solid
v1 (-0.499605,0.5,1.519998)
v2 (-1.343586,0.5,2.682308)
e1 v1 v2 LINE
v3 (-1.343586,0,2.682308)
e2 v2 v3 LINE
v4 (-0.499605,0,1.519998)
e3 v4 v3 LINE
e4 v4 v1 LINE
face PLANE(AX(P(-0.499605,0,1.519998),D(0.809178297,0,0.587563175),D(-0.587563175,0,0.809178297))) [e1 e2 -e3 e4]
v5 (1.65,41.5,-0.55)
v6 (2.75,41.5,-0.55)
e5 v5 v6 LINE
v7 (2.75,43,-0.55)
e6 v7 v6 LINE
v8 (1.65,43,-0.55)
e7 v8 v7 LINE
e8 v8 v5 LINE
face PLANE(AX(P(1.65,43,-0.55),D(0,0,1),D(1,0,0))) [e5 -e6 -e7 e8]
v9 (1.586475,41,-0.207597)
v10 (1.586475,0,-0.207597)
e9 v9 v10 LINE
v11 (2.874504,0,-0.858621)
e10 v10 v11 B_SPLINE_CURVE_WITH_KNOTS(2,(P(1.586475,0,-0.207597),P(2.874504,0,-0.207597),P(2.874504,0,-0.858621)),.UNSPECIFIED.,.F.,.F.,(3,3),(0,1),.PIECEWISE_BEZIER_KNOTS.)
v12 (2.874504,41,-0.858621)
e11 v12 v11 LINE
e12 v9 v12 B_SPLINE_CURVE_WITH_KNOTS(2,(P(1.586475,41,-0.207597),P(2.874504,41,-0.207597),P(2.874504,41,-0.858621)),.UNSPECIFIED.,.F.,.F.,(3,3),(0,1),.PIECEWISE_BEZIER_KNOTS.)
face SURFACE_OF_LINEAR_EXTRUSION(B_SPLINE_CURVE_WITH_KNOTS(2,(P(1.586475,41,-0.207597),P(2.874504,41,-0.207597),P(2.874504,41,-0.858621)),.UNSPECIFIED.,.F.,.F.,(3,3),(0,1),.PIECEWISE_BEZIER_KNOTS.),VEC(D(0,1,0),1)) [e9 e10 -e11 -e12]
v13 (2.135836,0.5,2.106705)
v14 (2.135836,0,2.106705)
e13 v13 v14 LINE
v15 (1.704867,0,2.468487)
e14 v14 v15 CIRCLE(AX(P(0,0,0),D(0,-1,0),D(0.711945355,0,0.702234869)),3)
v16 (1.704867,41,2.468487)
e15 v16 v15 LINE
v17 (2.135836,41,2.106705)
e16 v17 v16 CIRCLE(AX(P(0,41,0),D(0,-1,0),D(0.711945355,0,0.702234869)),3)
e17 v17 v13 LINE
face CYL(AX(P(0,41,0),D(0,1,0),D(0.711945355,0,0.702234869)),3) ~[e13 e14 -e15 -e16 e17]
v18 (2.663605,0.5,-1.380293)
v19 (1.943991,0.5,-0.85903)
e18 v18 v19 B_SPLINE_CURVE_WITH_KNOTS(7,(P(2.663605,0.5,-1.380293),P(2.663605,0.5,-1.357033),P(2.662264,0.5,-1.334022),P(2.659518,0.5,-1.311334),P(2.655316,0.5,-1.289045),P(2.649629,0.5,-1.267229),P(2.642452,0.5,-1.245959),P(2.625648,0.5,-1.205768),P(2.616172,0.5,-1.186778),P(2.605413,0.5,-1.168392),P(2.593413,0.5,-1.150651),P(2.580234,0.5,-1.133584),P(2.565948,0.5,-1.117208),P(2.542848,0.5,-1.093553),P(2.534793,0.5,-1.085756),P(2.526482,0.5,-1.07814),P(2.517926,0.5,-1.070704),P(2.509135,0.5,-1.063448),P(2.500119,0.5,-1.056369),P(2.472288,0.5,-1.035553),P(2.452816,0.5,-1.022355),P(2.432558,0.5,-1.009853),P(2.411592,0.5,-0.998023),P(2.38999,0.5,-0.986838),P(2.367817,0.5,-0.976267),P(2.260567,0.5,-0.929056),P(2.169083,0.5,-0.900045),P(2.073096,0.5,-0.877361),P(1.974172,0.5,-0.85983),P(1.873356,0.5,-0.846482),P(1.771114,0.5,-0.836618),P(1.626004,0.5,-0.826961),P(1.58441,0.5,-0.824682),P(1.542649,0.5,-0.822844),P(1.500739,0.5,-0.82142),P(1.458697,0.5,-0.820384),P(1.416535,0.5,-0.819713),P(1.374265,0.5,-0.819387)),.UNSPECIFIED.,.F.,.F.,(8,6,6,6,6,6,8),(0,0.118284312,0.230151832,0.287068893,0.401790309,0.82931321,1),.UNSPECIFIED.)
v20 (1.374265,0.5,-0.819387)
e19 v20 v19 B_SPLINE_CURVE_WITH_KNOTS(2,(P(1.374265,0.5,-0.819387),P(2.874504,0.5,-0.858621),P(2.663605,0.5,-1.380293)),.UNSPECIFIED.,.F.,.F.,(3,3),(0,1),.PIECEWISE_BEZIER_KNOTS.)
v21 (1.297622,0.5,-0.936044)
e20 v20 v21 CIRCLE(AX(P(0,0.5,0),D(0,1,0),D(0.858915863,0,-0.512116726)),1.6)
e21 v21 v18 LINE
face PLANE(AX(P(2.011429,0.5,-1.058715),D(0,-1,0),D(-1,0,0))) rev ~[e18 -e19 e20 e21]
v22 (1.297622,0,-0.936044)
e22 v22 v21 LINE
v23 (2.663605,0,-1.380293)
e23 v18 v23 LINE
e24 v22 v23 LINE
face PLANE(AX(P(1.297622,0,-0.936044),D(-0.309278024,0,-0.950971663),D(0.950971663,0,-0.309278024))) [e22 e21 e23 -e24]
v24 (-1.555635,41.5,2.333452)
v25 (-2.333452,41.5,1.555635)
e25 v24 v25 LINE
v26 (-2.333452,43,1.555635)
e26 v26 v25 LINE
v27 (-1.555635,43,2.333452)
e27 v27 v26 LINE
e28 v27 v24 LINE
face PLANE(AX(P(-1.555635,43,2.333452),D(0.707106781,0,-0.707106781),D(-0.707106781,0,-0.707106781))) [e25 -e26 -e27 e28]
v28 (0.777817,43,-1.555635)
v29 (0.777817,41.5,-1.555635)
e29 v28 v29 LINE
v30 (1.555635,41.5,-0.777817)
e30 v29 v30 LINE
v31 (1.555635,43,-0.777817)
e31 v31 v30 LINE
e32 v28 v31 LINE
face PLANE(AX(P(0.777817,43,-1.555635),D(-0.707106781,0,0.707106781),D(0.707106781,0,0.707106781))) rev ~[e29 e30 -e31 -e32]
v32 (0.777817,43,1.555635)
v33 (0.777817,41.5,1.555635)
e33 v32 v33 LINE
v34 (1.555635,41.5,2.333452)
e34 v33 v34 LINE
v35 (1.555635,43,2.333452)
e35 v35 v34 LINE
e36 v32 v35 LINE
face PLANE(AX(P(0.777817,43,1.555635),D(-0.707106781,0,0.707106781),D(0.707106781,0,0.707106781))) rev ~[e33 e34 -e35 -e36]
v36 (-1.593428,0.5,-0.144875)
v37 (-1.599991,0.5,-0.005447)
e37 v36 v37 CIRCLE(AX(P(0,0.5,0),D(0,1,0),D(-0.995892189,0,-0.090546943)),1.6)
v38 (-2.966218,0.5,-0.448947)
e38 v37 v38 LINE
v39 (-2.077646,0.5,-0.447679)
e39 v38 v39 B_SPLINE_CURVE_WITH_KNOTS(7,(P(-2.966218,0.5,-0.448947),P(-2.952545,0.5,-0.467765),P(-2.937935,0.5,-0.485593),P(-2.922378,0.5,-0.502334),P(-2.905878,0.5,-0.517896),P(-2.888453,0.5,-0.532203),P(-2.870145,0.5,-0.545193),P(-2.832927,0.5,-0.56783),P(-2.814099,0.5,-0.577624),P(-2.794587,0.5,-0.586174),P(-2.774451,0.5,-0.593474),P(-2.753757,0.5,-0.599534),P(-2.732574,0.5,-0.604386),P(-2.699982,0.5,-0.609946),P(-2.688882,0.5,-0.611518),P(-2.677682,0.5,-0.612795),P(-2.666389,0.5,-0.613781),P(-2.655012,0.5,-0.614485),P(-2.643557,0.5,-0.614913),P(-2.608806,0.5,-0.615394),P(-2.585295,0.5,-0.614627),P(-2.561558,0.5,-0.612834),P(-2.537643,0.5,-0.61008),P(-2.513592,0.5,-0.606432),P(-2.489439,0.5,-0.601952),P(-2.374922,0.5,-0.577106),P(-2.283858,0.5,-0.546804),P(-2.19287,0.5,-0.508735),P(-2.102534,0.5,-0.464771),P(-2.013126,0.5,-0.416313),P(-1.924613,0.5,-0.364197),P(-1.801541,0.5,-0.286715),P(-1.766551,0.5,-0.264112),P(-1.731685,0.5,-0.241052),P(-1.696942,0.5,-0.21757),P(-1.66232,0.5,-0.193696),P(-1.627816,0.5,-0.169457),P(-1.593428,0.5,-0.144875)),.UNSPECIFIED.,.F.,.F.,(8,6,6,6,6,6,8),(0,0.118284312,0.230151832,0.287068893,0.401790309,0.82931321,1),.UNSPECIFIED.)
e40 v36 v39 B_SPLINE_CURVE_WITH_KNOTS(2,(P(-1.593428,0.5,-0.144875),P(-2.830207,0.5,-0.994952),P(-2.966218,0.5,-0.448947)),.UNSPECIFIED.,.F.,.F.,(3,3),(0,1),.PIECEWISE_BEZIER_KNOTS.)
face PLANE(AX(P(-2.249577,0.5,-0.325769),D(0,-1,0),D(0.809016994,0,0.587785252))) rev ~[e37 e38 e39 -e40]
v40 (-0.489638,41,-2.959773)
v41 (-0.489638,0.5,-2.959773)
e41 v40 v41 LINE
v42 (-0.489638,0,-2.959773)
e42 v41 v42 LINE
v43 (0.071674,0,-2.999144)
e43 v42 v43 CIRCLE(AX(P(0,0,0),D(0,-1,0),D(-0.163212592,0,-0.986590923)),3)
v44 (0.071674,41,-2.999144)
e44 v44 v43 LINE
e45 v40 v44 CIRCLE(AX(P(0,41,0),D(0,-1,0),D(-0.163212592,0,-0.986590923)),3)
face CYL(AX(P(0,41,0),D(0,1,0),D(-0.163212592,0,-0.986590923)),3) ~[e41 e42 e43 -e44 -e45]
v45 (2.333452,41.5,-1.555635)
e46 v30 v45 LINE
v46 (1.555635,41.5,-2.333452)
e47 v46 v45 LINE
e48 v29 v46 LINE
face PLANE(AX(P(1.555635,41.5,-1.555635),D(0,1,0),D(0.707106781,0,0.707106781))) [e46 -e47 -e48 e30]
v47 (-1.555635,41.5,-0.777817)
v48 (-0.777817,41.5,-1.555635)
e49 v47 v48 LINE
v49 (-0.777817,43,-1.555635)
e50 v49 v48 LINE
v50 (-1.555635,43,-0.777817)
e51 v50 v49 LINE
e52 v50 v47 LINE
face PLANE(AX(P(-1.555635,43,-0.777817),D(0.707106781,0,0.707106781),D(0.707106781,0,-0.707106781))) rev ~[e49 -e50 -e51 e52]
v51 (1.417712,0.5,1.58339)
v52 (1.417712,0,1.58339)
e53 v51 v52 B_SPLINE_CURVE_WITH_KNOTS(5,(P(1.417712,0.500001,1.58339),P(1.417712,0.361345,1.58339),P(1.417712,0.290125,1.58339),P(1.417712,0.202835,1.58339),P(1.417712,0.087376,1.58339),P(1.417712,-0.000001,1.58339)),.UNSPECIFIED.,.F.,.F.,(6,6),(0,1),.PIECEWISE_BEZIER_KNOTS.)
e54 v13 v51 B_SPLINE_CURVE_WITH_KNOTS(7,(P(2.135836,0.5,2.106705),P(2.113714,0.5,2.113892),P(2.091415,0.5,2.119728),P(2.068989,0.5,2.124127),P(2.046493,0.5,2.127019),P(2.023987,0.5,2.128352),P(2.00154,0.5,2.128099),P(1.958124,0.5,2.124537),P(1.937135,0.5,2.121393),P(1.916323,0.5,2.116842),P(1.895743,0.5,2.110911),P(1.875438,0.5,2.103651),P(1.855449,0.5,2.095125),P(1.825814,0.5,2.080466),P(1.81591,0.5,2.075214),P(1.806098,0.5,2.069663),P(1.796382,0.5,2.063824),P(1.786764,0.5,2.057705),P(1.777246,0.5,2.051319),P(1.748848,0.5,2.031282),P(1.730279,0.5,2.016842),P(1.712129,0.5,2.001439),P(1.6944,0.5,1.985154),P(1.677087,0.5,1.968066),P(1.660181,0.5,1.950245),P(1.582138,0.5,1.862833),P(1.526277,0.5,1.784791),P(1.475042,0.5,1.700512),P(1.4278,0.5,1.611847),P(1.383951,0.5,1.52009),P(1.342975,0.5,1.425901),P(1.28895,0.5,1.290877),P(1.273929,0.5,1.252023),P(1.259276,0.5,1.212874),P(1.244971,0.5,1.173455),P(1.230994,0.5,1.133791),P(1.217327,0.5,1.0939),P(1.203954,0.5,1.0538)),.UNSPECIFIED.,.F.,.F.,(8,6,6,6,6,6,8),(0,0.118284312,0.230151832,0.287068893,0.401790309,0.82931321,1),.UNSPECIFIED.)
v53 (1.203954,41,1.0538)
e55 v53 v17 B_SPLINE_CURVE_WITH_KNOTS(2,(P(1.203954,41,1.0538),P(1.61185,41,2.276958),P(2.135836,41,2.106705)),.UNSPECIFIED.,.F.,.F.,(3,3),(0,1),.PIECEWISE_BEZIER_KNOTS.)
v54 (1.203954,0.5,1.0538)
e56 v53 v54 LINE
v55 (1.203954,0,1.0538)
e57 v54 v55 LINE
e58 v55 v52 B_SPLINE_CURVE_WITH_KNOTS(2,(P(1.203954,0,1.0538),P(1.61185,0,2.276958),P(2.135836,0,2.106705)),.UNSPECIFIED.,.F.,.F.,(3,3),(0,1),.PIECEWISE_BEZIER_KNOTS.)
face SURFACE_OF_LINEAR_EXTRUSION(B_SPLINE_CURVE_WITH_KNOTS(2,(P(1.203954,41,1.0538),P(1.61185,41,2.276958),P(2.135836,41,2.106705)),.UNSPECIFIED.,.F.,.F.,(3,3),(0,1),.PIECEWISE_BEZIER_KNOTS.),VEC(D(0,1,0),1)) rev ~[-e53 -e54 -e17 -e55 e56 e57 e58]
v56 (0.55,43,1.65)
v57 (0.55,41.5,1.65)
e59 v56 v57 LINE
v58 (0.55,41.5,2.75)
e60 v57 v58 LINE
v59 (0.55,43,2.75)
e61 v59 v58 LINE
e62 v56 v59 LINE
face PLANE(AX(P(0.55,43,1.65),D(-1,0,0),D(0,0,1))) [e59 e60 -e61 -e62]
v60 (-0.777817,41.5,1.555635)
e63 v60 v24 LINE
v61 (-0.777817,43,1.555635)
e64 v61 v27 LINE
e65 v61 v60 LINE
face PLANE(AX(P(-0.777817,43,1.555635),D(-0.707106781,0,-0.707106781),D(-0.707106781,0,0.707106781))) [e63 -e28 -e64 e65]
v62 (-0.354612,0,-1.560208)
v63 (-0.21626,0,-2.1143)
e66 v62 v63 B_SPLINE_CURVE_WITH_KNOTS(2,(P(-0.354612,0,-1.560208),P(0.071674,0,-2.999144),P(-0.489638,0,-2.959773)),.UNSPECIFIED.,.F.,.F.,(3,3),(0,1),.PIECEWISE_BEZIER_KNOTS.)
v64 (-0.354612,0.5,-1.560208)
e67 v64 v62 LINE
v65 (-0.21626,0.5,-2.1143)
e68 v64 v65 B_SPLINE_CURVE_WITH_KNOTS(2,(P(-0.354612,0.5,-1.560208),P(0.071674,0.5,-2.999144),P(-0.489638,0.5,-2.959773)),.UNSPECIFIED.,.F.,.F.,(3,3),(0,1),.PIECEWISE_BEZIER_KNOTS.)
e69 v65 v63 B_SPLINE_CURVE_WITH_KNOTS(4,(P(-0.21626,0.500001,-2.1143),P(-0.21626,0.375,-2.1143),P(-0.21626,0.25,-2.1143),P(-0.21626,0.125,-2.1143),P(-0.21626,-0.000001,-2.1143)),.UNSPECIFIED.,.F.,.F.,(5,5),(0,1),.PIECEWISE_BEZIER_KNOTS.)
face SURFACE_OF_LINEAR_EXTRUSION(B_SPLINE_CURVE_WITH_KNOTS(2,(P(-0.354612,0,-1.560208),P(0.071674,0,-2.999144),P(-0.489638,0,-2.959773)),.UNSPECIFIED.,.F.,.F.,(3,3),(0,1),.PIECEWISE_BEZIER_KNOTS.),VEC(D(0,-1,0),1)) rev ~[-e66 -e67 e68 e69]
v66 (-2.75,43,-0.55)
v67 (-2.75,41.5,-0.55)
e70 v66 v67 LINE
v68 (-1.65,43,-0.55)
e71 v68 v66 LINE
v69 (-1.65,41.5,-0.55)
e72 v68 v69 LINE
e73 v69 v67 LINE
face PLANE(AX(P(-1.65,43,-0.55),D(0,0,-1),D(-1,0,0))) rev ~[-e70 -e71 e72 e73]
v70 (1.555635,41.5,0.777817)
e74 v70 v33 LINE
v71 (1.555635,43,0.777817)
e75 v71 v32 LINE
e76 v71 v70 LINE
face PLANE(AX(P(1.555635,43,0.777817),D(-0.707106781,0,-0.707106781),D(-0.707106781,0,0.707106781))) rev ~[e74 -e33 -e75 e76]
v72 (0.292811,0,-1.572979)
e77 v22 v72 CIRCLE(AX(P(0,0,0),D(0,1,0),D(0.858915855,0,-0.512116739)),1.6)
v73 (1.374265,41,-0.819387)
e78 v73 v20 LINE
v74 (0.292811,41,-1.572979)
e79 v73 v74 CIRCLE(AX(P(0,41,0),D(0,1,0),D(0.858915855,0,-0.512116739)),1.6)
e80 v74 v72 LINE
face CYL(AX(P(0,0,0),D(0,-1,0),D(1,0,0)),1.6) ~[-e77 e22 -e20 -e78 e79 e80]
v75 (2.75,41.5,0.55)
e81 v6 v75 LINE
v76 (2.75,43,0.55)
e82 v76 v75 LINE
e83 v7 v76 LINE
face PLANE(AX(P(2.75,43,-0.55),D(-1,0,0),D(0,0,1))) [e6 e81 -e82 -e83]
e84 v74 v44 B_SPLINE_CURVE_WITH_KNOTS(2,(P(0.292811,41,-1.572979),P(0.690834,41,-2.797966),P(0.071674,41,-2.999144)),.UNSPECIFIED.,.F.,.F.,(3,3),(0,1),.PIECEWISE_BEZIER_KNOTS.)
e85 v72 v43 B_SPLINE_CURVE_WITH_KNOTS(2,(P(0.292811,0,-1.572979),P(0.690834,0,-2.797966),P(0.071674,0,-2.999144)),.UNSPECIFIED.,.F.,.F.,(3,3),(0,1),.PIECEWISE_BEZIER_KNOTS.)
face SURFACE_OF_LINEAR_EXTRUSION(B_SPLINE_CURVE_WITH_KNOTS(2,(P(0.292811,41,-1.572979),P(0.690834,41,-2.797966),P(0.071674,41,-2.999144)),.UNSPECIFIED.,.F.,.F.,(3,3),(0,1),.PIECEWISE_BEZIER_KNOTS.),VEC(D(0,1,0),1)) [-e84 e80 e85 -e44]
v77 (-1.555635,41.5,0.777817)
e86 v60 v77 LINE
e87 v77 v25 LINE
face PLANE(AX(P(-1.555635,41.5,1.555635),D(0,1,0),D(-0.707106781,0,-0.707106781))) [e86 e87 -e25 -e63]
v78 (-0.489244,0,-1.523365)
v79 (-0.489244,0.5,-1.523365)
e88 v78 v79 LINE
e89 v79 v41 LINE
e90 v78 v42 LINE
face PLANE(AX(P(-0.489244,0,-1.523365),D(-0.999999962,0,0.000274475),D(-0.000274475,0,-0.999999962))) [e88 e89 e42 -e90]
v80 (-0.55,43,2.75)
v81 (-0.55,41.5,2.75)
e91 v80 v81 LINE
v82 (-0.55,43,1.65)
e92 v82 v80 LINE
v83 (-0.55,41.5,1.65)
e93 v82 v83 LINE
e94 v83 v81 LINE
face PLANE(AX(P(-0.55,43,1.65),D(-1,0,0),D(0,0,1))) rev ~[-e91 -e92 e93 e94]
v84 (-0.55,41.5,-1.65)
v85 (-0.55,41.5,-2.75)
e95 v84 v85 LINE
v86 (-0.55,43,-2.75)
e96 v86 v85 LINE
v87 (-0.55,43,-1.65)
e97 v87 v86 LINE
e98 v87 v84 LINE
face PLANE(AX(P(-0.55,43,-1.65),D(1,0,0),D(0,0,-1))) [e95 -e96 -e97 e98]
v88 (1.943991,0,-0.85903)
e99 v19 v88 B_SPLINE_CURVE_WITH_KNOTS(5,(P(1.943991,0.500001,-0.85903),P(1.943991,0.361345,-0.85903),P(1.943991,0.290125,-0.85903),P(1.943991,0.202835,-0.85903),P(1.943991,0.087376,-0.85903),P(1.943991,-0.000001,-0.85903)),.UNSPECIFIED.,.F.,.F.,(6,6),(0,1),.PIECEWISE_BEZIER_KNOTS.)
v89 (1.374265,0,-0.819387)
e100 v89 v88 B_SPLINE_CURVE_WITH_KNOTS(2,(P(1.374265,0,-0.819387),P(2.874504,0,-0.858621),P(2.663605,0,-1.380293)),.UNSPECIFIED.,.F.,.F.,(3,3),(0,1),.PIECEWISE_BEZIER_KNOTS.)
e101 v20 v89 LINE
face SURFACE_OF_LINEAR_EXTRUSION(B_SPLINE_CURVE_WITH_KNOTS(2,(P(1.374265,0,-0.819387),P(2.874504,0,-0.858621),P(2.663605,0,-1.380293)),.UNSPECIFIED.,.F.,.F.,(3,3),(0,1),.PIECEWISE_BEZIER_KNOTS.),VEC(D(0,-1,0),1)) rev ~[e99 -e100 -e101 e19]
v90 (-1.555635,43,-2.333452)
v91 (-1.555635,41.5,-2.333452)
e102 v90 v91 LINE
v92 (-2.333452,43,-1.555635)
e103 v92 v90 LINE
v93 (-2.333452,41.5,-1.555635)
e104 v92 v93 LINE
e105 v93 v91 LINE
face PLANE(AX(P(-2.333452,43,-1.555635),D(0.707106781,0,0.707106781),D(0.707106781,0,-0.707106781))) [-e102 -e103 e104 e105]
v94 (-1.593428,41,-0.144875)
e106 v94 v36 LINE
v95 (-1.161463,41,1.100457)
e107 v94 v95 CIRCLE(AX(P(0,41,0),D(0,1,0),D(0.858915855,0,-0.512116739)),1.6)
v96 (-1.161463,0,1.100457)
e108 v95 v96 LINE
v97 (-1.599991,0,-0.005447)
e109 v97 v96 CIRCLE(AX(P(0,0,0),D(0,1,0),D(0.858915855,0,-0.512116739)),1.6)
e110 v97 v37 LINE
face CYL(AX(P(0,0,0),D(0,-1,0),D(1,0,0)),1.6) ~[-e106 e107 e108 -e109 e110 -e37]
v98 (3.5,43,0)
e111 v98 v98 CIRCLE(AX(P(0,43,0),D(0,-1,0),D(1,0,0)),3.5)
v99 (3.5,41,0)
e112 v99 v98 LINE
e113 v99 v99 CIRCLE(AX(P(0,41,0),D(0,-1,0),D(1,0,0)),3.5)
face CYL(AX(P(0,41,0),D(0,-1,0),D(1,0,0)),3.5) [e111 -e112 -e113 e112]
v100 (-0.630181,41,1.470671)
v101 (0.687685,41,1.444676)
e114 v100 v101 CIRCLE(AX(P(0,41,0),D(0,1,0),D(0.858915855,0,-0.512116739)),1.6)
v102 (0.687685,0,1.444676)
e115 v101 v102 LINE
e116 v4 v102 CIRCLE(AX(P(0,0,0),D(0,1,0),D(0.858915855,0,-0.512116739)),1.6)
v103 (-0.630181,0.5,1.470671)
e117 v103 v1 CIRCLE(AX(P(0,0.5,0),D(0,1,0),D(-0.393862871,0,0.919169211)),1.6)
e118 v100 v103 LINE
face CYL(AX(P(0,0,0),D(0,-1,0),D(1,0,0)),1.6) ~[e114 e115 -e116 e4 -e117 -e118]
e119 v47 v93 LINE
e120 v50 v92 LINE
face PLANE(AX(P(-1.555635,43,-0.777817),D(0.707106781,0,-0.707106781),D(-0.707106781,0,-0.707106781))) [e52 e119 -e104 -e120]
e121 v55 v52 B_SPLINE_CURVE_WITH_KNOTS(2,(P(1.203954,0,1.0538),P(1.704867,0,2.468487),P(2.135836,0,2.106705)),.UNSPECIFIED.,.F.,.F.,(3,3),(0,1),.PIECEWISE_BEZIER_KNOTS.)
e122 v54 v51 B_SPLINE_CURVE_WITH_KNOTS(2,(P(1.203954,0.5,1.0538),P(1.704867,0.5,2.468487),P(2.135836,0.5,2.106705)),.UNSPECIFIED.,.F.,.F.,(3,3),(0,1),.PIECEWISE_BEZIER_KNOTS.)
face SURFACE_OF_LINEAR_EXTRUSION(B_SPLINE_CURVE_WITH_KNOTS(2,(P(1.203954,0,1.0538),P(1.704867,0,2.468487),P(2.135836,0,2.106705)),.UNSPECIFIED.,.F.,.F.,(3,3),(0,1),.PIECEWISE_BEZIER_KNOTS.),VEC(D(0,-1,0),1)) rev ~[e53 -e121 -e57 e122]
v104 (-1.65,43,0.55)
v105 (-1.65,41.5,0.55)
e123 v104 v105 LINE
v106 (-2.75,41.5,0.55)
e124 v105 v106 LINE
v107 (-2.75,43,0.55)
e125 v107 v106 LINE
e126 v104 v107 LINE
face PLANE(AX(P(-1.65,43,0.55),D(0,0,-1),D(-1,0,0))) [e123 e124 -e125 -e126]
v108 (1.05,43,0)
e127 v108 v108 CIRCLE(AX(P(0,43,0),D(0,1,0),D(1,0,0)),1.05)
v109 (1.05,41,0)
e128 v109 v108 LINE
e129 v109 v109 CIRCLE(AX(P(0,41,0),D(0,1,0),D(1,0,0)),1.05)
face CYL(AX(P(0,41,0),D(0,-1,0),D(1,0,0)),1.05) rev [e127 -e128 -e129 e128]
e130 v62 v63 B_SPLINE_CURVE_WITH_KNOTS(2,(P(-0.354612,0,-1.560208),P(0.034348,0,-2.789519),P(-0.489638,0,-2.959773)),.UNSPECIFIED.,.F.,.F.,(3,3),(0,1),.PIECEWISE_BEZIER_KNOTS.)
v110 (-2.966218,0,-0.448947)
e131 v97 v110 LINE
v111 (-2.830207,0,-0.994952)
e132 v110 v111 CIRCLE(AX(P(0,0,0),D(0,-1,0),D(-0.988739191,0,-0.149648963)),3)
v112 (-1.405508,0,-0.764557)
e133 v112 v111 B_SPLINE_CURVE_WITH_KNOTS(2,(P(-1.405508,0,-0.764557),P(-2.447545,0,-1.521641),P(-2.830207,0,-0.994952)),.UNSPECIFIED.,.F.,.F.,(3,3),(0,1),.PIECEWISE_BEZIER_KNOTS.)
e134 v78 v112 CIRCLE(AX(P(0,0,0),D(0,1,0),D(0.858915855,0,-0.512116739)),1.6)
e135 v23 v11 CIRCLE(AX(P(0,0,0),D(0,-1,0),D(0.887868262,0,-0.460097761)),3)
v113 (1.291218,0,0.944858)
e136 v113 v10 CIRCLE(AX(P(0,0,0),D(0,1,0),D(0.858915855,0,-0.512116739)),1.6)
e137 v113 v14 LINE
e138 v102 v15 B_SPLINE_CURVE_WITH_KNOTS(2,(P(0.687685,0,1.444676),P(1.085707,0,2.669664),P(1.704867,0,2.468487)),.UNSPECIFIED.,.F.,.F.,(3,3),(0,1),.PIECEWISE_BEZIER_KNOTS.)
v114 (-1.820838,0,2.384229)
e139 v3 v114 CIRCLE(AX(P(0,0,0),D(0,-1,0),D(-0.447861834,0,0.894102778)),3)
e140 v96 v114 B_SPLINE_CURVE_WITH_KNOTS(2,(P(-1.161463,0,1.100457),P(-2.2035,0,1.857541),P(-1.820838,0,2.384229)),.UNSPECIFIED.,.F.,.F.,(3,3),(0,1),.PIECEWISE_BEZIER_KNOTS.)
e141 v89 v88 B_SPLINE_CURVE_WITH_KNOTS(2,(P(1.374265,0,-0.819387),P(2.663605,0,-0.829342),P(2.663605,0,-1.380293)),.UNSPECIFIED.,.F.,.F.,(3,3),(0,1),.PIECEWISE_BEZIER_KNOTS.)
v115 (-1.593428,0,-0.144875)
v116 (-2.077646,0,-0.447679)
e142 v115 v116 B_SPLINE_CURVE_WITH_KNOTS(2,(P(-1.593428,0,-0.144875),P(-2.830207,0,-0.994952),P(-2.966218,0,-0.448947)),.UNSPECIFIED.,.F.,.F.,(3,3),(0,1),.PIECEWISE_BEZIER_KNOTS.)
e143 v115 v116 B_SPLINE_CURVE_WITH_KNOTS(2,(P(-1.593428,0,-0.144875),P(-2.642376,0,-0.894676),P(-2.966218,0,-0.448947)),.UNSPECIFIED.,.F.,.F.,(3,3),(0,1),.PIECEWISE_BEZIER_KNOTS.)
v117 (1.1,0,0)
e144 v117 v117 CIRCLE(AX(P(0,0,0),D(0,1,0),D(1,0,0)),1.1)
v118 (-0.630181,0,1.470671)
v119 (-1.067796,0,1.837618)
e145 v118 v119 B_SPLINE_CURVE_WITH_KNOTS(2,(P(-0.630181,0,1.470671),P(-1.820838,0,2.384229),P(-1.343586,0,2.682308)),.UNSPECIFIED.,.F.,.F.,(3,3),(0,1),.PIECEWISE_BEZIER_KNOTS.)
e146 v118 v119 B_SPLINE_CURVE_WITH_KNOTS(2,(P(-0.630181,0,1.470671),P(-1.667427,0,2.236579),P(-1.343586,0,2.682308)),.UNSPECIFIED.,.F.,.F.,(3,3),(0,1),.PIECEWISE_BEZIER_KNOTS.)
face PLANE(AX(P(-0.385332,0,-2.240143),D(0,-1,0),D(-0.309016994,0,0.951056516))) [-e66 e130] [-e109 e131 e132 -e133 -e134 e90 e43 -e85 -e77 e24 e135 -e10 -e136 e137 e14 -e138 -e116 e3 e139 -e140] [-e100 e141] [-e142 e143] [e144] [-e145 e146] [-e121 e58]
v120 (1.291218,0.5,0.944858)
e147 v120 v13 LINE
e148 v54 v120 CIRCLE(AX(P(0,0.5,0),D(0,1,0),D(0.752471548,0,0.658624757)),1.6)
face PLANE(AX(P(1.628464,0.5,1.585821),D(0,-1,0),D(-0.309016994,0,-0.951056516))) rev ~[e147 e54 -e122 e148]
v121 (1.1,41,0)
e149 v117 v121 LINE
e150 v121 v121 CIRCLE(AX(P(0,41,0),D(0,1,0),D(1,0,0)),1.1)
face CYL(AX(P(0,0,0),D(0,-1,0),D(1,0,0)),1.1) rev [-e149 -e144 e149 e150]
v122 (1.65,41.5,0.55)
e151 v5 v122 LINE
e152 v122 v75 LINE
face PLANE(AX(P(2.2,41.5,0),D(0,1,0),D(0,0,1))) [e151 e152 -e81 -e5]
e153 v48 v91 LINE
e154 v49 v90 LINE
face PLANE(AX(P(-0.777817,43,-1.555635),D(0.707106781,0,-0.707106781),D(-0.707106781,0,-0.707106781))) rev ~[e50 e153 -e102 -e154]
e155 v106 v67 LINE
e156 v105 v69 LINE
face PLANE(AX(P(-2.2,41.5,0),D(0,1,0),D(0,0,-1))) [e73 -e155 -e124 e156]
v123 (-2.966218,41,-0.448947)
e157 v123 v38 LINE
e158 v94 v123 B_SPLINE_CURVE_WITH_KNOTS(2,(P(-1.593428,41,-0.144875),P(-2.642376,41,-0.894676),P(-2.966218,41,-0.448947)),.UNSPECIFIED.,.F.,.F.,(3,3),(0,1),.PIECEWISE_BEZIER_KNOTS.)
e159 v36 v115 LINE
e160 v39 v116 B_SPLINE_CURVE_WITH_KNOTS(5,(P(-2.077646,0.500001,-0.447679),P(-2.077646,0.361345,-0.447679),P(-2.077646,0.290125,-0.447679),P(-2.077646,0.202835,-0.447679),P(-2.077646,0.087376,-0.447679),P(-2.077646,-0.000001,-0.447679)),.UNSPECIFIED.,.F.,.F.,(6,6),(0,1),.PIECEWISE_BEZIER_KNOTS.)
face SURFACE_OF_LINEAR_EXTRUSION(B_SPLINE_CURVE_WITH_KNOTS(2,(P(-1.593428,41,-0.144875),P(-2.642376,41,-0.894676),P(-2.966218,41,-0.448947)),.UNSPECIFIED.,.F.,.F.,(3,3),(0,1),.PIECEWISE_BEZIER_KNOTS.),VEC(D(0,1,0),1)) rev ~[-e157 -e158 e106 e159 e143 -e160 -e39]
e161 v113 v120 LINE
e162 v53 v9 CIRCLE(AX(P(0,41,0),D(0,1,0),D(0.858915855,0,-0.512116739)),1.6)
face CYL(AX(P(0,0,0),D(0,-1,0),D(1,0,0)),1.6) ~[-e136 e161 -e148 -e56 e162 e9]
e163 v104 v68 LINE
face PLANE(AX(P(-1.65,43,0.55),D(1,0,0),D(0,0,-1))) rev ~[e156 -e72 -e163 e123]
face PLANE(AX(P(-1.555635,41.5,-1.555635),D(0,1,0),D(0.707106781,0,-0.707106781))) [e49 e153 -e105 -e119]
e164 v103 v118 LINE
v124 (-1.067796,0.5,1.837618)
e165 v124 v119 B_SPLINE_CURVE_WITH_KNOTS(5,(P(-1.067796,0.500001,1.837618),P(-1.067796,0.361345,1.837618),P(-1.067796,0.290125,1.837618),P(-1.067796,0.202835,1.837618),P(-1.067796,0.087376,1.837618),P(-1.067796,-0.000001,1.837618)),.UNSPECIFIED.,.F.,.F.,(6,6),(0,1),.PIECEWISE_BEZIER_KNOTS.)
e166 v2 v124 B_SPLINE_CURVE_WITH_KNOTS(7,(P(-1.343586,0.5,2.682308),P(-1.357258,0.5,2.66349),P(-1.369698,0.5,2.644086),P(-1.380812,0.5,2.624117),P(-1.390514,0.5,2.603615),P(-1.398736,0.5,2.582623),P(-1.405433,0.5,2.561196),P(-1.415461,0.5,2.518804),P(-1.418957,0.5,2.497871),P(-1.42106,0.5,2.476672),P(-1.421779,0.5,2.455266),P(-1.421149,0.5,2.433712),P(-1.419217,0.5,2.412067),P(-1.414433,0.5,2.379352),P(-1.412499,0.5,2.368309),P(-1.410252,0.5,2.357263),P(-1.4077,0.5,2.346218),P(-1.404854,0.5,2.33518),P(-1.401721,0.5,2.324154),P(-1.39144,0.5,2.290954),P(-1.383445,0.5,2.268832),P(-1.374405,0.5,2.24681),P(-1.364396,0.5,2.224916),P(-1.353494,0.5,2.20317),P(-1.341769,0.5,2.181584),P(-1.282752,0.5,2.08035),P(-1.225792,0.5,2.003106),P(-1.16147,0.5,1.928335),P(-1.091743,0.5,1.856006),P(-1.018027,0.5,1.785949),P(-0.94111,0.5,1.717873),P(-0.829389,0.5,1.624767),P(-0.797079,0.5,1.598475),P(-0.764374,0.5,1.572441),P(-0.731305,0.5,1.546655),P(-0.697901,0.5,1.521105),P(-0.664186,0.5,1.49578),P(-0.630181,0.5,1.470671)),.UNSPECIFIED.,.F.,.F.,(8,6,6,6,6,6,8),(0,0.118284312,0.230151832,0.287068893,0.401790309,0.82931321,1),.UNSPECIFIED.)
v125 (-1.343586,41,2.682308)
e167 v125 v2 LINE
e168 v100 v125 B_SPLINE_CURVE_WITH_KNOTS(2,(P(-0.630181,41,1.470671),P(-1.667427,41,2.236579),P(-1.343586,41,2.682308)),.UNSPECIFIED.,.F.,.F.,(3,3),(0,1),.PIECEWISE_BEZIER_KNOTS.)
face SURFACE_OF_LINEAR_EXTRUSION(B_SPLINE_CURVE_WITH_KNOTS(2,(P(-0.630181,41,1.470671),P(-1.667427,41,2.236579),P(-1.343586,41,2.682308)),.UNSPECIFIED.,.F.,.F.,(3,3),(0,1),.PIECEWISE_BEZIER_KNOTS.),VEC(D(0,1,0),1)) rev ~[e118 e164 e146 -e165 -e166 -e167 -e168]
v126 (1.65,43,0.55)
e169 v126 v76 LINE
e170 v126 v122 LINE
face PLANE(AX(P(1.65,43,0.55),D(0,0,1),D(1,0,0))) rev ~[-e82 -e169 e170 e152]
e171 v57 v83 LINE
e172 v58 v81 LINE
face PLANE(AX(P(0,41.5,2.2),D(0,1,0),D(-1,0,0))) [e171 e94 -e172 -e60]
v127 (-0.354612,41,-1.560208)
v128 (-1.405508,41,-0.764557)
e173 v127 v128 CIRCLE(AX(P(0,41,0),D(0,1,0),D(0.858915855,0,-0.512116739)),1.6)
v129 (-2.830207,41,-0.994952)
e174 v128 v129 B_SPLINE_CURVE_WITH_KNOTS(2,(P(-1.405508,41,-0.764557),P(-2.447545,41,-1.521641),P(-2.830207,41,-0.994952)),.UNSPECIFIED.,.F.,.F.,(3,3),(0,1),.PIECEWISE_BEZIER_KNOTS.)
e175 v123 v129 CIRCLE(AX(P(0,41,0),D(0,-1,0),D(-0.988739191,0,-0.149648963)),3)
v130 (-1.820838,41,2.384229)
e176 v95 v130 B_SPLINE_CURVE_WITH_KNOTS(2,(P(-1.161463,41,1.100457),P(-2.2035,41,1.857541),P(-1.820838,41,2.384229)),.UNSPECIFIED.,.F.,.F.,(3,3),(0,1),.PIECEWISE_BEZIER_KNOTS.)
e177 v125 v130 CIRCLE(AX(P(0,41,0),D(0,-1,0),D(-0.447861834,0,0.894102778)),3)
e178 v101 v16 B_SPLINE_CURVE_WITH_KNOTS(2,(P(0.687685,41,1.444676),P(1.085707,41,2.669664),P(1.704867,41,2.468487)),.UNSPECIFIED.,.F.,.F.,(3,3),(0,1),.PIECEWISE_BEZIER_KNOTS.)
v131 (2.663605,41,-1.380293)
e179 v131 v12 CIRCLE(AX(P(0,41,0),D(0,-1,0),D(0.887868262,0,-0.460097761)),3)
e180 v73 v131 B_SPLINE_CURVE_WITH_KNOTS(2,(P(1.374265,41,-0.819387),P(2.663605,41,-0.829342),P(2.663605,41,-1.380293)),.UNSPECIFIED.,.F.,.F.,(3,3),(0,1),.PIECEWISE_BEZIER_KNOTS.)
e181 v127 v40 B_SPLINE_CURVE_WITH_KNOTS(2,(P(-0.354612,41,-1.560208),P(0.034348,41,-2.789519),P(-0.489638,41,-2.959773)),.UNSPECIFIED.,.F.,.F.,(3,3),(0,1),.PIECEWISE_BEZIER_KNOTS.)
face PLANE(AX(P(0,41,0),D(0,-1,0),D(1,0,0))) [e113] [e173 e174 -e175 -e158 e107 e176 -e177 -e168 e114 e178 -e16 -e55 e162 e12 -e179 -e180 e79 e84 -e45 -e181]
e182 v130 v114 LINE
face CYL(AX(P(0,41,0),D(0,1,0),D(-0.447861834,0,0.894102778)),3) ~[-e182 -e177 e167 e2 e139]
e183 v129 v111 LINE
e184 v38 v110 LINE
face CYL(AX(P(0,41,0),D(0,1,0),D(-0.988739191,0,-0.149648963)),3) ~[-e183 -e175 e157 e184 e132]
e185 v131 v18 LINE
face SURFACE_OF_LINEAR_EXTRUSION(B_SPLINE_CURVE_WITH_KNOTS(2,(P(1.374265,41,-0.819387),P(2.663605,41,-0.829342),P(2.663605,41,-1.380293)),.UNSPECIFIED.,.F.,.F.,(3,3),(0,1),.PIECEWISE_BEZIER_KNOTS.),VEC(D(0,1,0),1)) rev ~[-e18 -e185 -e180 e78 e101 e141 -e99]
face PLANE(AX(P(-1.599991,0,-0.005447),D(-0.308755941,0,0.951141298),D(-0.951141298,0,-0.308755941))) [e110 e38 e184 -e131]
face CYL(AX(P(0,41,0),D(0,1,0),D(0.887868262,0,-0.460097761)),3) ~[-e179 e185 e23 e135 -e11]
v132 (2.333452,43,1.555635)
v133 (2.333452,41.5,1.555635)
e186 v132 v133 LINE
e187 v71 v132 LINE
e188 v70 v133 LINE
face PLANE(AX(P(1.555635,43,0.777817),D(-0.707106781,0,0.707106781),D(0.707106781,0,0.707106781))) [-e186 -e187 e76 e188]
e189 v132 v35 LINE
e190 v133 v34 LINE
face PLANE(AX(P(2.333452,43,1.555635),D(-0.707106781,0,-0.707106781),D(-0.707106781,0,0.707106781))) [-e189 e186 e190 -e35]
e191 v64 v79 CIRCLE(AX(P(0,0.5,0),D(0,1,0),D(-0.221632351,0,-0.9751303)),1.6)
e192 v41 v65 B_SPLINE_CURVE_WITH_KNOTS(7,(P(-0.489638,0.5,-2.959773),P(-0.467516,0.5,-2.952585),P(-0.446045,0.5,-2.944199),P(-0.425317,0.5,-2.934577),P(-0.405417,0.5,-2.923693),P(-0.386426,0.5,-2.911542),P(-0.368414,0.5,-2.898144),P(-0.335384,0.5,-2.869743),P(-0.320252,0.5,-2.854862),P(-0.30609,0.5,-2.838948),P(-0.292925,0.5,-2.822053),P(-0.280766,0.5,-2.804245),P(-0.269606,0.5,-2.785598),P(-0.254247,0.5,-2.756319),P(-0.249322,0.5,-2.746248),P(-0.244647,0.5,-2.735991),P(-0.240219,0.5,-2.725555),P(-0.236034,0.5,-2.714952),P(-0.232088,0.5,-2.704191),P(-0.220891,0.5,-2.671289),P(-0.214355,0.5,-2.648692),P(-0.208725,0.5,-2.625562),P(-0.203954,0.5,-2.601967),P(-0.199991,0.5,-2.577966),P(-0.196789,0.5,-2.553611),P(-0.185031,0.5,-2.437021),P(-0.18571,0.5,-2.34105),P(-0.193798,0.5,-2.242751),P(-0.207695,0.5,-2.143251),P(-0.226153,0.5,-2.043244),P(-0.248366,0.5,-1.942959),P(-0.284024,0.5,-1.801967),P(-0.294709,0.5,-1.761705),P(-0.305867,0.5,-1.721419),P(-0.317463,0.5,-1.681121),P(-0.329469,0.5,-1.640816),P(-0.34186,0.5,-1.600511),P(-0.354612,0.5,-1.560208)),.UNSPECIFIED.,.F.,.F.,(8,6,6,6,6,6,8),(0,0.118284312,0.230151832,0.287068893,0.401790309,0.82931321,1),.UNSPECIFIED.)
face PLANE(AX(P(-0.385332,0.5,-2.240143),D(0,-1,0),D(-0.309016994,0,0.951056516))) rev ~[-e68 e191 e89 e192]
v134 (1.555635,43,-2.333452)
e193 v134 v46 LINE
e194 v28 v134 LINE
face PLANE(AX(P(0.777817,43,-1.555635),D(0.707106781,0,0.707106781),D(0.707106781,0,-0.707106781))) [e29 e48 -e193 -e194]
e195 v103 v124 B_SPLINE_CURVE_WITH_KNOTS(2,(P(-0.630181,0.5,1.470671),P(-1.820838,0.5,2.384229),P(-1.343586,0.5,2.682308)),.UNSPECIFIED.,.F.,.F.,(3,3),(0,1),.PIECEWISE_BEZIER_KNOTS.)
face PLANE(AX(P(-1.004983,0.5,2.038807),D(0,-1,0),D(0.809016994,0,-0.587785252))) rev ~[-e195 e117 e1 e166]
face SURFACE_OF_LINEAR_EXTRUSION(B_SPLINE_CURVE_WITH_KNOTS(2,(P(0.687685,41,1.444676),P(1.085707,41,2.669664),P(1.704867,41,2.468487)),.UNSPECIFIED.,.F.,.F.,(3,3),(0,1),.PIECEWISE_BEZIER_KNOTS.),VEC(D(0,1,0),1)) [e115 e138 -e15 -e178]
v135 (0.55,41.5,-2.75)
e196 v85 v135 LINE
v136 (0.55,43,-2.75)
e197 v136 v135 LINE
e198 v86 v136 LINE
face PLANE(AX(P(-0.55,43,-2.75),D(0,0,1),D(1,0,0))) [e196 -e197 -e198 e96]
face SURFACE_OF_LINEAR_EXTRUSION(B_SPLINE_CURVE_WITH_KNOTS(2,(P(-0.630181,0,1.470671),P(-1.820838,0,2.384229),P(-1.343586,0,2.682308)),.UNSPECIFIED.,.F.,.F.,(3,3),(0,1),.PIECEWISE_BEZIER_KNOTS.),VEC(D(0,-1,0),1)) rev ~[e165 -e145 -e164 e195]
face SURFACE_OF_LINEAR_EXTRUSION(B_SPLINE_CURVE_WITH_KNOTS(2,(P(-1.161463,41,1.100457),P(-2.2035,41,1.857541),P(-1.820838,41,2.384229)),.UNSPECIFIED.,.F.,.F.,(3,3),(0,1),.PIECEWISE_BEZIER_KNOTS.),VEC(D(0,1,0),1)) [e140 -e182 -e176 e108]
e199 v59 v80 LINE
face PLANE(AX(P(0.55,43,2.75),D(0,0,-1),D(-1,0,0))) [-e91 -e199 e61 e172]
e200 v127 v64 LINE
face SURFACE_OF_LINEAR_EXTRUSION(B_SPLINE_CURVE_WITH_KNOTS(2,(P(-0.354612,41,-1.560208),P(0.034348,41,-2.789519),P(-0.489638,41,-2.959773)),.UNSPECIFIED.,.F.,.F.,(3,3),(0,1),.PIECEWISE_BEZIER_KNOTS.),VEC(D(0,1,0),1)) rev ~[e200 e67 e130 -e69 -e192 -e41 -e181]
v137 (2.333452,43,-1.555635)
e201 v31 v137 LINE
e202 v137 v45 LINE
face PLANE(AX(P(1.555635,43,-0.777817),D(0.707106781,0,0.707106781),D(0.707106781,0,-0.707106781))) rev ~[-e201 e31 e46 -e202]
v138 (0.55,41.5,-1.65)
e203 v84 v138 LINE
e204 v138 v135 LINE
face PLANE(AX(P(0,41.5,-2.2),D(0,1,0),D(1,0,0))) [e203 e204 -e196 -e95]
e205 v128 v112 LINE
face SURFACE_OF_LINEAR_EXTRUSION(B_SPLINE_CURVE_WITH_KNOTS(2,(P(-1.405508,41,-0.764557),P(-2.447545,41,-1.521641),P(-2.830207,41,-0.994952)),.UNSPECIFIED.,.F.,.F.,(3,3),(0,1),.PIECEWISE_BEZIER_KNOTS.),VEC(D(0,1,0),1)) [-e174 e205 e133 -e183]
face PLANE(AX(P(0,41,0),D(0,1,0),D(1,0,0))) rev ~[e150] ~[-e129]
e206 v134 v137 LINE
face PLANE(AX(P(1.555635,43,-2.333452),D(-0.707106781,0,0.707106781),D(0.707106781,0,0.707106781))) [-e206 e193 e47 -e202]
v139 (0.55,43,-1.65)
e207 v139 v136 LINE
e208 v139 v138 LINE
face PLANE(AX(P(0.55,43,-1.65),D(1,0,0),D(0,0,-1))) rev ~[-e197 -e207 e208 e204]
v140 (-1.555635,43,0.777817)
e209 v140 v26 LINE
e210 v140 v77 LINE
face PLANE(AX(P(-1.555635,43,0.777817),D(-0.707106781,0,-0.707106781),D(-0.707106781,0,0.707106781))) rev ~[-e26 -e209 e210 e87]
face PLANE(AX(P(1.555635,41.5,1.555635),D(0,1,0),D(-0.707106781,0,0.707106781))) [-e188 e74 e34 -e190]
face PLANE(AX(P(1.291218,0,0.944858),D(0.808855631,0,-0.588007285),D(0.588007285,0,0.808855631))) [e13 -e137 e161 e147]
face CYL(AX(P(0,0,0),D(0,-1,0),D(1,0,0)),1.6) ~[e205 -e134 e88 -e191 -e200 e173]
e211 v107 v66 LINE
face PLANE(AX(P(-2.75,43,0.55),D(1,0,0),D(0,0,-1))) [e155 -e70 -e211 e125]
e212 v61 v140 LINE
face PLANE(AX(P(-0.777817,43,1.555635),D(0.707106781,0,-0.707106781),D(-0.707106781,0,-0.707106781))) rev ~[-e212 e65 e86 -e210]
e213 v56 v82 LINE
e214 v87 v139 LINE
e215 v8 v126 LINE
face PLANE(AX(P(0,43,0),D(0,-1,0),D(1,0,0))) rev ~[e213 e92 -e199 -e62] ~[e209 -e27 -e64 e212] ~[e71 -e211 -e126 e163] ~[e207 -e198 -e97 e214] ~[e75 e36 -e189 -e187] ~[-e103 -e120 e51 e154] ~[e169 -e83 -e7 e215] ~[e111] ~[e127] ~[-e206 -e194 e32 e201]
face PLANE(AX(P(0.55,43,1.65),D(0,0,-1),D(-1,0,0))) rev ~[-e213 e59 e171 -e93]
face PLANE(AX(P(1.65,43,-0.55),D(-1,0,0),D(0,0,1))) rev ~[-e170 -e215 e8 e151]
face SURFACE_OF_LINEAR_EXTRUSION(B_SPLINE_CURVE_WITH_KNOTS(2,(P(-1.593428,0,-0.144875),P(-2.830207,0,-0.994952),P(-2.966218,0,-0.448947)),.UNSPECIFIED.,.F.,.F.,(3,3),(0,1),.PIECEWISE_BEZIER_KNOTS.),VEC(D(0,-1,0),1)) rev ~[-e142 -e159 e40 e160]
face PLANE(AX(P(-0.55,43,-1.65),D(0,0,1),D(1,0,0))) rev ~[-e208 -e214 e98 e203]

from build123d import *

# Parameters (mm, degrees)
SKETCH1_R           = 1.6
SKETCH1_R_2         = 1.1
BOSS_EXTRUDE1_DEPTH = 41
SKETCH2_R           = 3
SKETCH2_R_2         = 1.05
BOSS_EXTRUDE2_DEPTH = 2
SKETCH4_W           = 1.1
SKETCH4_H           = 1.1
CUT_EXTRUDE2_DEPTH  = 1.5
CIRPATTERN2_COUNT   = 8
BOSS_EXTRUDE3_DEPTH = 41
BOSS_EXTRUDE4_DEPTH = 0.5
CIRPATTERN3_COUNT   = 5
SKETCH9_R           = 3.5
SKETCH9_R_2         = 3
BOSS_EXTRUDE5_DEPTH = 2


with BuildPart() as part:
    # Sketch1 → Boss-Extrude1 (new body)
    with BuildSketch(Plane(origin=(0, 0, 0), x_dir=(1, 0, 0), z_dir=(0, 1, 0))):
        Circle(SKETCH1_R)
        Circle(SKETCH1_R_2, mode=Mode.SUBTRACT)
    extrude(amount=BOSS_EXTRUDE1_DEPTH)

    # Sketch2 → Boss-Extrude2 (add)
    with BuildSketch(Plane(origin=(0, 41, 0), x_dir=(1, 0, 0), z_dir=(0, 1, 0))):
        Circle(SKETCH2_R)
        Circle(SKETCH2_R_2, mode=Mode.SUBTRACT)
    extrude(amount=BOSS_EXTRUDE2_DEPTH)

    # Sketch4 → Cut-Extrude2 (cut)
    with BuildSketch(Plane(origin=(0, 43, 0), x_dir=(1, 0, 0), z_dir=(0, 1, 0))):
        with Locations((0, 2.2)):
            Rectangle(SKETCH4_W, SKETCH4_H)
    cut_extrude2 = extrude(amount=-CUT_EXTRUDE2_DEPTH, mode=Mode.SUBTRACT)

    # CirPattern2: Cut-Extrude2 ×8 about axis
    cirpattern2_axis = Axis((0, 0, 0), (0, 1, 0))
    for i in range(1, CIRPATTERN2_COUNT):
        add(cut_extrude2.rotate(cirpattern2_axis, i * 360 / CIRPATTERN2_COUNT), mode=Mode.SUBTRACT)

    # Sketch6 → Boss-Extrude3 (add)
    with BuildSketch(Plane.XZ.offset(-41)):
        with BuildLine():
            ThreePointArc((1.58647512, -0.20759743), (1.511644009, -0.524339955), (1.374265367, -0.819386783))
            add(Edge.make_bspline(
                [(1.374265367, -0.819386783), (2.663604789, -0.829341718), (2.663604789, -1.380293276)],
                knots=[0, 0, 0, 1, 1, 1], degree=2))
            ThreePointArc((2.663604789, -1.380293276), (2.781312042, -1.124412436), (2.874503573, -0.858620525))
            add(Edge.make_bspline(
                [(1.58647512, -0.20759743), (2.874503573, -0.20759743), (2.874503573, -0.858620525)],
                knots=[0, 0, 0, 1, 1, 1], degree=2))
        make_face()
    boss_extrude3 = extrude(amount=BOSS_EXTRUDE3_DEPTH)

    # Sketch7 → Boss-Extrude4 (add)
    with BuildSketch(Plane(origin=(0, 0, 0), x_dir=(1, 0, 0), z_dir=(0, 1, 0))):
        with BuildLine():
            Line((1.297621609, 0.936043888), (2.663604789, 1.380293276))
            add(Edge.make_bspline(
                [(1.374265367, 0.819386783), (2.874503573, 0.858620525), (2.663604789, 1.380293276)],
                knots=[0, 0, 0, 1, 1, 1], degree=2))
            ThreePointArc((1.374265367, 0.819386783), (1.337216222, 0.878551522), (1.297621609, 0.936043888))
        make_face()
    boss_extrude4 = extrude(amount=BOSS_EXTRUDE4_DEPTH)

    # CirPattern3: Boss-Extrude3, Boss-Extrude4 ×5 about axis
    cirpattern3_axis = Axis((0, 41, 0), (0, -1, 0))
    for i in range(1, CIRPATTERN3_COUNT):
        add(boss_extrude3.rotate(cirpattern3_axis, i * 360 / CIRPATTERN3_COUNT))
        add(boss_extrude4.rotate(cirpattern3_axis, i * 360 / CIRPATTERN3_COUNT))

    # Sketch9 → Boss-Extrude5 (add)
    with BuildSketch(Plane.XZ.offset(-41)):
        Circle(SKETCH9_R)
        Circle(SKETCH9_R_2, mode=Mode.SUBTRACT)
    extrude(amount=-BOSS_EXTRUDE5_DEPTH)


solid = part.part
